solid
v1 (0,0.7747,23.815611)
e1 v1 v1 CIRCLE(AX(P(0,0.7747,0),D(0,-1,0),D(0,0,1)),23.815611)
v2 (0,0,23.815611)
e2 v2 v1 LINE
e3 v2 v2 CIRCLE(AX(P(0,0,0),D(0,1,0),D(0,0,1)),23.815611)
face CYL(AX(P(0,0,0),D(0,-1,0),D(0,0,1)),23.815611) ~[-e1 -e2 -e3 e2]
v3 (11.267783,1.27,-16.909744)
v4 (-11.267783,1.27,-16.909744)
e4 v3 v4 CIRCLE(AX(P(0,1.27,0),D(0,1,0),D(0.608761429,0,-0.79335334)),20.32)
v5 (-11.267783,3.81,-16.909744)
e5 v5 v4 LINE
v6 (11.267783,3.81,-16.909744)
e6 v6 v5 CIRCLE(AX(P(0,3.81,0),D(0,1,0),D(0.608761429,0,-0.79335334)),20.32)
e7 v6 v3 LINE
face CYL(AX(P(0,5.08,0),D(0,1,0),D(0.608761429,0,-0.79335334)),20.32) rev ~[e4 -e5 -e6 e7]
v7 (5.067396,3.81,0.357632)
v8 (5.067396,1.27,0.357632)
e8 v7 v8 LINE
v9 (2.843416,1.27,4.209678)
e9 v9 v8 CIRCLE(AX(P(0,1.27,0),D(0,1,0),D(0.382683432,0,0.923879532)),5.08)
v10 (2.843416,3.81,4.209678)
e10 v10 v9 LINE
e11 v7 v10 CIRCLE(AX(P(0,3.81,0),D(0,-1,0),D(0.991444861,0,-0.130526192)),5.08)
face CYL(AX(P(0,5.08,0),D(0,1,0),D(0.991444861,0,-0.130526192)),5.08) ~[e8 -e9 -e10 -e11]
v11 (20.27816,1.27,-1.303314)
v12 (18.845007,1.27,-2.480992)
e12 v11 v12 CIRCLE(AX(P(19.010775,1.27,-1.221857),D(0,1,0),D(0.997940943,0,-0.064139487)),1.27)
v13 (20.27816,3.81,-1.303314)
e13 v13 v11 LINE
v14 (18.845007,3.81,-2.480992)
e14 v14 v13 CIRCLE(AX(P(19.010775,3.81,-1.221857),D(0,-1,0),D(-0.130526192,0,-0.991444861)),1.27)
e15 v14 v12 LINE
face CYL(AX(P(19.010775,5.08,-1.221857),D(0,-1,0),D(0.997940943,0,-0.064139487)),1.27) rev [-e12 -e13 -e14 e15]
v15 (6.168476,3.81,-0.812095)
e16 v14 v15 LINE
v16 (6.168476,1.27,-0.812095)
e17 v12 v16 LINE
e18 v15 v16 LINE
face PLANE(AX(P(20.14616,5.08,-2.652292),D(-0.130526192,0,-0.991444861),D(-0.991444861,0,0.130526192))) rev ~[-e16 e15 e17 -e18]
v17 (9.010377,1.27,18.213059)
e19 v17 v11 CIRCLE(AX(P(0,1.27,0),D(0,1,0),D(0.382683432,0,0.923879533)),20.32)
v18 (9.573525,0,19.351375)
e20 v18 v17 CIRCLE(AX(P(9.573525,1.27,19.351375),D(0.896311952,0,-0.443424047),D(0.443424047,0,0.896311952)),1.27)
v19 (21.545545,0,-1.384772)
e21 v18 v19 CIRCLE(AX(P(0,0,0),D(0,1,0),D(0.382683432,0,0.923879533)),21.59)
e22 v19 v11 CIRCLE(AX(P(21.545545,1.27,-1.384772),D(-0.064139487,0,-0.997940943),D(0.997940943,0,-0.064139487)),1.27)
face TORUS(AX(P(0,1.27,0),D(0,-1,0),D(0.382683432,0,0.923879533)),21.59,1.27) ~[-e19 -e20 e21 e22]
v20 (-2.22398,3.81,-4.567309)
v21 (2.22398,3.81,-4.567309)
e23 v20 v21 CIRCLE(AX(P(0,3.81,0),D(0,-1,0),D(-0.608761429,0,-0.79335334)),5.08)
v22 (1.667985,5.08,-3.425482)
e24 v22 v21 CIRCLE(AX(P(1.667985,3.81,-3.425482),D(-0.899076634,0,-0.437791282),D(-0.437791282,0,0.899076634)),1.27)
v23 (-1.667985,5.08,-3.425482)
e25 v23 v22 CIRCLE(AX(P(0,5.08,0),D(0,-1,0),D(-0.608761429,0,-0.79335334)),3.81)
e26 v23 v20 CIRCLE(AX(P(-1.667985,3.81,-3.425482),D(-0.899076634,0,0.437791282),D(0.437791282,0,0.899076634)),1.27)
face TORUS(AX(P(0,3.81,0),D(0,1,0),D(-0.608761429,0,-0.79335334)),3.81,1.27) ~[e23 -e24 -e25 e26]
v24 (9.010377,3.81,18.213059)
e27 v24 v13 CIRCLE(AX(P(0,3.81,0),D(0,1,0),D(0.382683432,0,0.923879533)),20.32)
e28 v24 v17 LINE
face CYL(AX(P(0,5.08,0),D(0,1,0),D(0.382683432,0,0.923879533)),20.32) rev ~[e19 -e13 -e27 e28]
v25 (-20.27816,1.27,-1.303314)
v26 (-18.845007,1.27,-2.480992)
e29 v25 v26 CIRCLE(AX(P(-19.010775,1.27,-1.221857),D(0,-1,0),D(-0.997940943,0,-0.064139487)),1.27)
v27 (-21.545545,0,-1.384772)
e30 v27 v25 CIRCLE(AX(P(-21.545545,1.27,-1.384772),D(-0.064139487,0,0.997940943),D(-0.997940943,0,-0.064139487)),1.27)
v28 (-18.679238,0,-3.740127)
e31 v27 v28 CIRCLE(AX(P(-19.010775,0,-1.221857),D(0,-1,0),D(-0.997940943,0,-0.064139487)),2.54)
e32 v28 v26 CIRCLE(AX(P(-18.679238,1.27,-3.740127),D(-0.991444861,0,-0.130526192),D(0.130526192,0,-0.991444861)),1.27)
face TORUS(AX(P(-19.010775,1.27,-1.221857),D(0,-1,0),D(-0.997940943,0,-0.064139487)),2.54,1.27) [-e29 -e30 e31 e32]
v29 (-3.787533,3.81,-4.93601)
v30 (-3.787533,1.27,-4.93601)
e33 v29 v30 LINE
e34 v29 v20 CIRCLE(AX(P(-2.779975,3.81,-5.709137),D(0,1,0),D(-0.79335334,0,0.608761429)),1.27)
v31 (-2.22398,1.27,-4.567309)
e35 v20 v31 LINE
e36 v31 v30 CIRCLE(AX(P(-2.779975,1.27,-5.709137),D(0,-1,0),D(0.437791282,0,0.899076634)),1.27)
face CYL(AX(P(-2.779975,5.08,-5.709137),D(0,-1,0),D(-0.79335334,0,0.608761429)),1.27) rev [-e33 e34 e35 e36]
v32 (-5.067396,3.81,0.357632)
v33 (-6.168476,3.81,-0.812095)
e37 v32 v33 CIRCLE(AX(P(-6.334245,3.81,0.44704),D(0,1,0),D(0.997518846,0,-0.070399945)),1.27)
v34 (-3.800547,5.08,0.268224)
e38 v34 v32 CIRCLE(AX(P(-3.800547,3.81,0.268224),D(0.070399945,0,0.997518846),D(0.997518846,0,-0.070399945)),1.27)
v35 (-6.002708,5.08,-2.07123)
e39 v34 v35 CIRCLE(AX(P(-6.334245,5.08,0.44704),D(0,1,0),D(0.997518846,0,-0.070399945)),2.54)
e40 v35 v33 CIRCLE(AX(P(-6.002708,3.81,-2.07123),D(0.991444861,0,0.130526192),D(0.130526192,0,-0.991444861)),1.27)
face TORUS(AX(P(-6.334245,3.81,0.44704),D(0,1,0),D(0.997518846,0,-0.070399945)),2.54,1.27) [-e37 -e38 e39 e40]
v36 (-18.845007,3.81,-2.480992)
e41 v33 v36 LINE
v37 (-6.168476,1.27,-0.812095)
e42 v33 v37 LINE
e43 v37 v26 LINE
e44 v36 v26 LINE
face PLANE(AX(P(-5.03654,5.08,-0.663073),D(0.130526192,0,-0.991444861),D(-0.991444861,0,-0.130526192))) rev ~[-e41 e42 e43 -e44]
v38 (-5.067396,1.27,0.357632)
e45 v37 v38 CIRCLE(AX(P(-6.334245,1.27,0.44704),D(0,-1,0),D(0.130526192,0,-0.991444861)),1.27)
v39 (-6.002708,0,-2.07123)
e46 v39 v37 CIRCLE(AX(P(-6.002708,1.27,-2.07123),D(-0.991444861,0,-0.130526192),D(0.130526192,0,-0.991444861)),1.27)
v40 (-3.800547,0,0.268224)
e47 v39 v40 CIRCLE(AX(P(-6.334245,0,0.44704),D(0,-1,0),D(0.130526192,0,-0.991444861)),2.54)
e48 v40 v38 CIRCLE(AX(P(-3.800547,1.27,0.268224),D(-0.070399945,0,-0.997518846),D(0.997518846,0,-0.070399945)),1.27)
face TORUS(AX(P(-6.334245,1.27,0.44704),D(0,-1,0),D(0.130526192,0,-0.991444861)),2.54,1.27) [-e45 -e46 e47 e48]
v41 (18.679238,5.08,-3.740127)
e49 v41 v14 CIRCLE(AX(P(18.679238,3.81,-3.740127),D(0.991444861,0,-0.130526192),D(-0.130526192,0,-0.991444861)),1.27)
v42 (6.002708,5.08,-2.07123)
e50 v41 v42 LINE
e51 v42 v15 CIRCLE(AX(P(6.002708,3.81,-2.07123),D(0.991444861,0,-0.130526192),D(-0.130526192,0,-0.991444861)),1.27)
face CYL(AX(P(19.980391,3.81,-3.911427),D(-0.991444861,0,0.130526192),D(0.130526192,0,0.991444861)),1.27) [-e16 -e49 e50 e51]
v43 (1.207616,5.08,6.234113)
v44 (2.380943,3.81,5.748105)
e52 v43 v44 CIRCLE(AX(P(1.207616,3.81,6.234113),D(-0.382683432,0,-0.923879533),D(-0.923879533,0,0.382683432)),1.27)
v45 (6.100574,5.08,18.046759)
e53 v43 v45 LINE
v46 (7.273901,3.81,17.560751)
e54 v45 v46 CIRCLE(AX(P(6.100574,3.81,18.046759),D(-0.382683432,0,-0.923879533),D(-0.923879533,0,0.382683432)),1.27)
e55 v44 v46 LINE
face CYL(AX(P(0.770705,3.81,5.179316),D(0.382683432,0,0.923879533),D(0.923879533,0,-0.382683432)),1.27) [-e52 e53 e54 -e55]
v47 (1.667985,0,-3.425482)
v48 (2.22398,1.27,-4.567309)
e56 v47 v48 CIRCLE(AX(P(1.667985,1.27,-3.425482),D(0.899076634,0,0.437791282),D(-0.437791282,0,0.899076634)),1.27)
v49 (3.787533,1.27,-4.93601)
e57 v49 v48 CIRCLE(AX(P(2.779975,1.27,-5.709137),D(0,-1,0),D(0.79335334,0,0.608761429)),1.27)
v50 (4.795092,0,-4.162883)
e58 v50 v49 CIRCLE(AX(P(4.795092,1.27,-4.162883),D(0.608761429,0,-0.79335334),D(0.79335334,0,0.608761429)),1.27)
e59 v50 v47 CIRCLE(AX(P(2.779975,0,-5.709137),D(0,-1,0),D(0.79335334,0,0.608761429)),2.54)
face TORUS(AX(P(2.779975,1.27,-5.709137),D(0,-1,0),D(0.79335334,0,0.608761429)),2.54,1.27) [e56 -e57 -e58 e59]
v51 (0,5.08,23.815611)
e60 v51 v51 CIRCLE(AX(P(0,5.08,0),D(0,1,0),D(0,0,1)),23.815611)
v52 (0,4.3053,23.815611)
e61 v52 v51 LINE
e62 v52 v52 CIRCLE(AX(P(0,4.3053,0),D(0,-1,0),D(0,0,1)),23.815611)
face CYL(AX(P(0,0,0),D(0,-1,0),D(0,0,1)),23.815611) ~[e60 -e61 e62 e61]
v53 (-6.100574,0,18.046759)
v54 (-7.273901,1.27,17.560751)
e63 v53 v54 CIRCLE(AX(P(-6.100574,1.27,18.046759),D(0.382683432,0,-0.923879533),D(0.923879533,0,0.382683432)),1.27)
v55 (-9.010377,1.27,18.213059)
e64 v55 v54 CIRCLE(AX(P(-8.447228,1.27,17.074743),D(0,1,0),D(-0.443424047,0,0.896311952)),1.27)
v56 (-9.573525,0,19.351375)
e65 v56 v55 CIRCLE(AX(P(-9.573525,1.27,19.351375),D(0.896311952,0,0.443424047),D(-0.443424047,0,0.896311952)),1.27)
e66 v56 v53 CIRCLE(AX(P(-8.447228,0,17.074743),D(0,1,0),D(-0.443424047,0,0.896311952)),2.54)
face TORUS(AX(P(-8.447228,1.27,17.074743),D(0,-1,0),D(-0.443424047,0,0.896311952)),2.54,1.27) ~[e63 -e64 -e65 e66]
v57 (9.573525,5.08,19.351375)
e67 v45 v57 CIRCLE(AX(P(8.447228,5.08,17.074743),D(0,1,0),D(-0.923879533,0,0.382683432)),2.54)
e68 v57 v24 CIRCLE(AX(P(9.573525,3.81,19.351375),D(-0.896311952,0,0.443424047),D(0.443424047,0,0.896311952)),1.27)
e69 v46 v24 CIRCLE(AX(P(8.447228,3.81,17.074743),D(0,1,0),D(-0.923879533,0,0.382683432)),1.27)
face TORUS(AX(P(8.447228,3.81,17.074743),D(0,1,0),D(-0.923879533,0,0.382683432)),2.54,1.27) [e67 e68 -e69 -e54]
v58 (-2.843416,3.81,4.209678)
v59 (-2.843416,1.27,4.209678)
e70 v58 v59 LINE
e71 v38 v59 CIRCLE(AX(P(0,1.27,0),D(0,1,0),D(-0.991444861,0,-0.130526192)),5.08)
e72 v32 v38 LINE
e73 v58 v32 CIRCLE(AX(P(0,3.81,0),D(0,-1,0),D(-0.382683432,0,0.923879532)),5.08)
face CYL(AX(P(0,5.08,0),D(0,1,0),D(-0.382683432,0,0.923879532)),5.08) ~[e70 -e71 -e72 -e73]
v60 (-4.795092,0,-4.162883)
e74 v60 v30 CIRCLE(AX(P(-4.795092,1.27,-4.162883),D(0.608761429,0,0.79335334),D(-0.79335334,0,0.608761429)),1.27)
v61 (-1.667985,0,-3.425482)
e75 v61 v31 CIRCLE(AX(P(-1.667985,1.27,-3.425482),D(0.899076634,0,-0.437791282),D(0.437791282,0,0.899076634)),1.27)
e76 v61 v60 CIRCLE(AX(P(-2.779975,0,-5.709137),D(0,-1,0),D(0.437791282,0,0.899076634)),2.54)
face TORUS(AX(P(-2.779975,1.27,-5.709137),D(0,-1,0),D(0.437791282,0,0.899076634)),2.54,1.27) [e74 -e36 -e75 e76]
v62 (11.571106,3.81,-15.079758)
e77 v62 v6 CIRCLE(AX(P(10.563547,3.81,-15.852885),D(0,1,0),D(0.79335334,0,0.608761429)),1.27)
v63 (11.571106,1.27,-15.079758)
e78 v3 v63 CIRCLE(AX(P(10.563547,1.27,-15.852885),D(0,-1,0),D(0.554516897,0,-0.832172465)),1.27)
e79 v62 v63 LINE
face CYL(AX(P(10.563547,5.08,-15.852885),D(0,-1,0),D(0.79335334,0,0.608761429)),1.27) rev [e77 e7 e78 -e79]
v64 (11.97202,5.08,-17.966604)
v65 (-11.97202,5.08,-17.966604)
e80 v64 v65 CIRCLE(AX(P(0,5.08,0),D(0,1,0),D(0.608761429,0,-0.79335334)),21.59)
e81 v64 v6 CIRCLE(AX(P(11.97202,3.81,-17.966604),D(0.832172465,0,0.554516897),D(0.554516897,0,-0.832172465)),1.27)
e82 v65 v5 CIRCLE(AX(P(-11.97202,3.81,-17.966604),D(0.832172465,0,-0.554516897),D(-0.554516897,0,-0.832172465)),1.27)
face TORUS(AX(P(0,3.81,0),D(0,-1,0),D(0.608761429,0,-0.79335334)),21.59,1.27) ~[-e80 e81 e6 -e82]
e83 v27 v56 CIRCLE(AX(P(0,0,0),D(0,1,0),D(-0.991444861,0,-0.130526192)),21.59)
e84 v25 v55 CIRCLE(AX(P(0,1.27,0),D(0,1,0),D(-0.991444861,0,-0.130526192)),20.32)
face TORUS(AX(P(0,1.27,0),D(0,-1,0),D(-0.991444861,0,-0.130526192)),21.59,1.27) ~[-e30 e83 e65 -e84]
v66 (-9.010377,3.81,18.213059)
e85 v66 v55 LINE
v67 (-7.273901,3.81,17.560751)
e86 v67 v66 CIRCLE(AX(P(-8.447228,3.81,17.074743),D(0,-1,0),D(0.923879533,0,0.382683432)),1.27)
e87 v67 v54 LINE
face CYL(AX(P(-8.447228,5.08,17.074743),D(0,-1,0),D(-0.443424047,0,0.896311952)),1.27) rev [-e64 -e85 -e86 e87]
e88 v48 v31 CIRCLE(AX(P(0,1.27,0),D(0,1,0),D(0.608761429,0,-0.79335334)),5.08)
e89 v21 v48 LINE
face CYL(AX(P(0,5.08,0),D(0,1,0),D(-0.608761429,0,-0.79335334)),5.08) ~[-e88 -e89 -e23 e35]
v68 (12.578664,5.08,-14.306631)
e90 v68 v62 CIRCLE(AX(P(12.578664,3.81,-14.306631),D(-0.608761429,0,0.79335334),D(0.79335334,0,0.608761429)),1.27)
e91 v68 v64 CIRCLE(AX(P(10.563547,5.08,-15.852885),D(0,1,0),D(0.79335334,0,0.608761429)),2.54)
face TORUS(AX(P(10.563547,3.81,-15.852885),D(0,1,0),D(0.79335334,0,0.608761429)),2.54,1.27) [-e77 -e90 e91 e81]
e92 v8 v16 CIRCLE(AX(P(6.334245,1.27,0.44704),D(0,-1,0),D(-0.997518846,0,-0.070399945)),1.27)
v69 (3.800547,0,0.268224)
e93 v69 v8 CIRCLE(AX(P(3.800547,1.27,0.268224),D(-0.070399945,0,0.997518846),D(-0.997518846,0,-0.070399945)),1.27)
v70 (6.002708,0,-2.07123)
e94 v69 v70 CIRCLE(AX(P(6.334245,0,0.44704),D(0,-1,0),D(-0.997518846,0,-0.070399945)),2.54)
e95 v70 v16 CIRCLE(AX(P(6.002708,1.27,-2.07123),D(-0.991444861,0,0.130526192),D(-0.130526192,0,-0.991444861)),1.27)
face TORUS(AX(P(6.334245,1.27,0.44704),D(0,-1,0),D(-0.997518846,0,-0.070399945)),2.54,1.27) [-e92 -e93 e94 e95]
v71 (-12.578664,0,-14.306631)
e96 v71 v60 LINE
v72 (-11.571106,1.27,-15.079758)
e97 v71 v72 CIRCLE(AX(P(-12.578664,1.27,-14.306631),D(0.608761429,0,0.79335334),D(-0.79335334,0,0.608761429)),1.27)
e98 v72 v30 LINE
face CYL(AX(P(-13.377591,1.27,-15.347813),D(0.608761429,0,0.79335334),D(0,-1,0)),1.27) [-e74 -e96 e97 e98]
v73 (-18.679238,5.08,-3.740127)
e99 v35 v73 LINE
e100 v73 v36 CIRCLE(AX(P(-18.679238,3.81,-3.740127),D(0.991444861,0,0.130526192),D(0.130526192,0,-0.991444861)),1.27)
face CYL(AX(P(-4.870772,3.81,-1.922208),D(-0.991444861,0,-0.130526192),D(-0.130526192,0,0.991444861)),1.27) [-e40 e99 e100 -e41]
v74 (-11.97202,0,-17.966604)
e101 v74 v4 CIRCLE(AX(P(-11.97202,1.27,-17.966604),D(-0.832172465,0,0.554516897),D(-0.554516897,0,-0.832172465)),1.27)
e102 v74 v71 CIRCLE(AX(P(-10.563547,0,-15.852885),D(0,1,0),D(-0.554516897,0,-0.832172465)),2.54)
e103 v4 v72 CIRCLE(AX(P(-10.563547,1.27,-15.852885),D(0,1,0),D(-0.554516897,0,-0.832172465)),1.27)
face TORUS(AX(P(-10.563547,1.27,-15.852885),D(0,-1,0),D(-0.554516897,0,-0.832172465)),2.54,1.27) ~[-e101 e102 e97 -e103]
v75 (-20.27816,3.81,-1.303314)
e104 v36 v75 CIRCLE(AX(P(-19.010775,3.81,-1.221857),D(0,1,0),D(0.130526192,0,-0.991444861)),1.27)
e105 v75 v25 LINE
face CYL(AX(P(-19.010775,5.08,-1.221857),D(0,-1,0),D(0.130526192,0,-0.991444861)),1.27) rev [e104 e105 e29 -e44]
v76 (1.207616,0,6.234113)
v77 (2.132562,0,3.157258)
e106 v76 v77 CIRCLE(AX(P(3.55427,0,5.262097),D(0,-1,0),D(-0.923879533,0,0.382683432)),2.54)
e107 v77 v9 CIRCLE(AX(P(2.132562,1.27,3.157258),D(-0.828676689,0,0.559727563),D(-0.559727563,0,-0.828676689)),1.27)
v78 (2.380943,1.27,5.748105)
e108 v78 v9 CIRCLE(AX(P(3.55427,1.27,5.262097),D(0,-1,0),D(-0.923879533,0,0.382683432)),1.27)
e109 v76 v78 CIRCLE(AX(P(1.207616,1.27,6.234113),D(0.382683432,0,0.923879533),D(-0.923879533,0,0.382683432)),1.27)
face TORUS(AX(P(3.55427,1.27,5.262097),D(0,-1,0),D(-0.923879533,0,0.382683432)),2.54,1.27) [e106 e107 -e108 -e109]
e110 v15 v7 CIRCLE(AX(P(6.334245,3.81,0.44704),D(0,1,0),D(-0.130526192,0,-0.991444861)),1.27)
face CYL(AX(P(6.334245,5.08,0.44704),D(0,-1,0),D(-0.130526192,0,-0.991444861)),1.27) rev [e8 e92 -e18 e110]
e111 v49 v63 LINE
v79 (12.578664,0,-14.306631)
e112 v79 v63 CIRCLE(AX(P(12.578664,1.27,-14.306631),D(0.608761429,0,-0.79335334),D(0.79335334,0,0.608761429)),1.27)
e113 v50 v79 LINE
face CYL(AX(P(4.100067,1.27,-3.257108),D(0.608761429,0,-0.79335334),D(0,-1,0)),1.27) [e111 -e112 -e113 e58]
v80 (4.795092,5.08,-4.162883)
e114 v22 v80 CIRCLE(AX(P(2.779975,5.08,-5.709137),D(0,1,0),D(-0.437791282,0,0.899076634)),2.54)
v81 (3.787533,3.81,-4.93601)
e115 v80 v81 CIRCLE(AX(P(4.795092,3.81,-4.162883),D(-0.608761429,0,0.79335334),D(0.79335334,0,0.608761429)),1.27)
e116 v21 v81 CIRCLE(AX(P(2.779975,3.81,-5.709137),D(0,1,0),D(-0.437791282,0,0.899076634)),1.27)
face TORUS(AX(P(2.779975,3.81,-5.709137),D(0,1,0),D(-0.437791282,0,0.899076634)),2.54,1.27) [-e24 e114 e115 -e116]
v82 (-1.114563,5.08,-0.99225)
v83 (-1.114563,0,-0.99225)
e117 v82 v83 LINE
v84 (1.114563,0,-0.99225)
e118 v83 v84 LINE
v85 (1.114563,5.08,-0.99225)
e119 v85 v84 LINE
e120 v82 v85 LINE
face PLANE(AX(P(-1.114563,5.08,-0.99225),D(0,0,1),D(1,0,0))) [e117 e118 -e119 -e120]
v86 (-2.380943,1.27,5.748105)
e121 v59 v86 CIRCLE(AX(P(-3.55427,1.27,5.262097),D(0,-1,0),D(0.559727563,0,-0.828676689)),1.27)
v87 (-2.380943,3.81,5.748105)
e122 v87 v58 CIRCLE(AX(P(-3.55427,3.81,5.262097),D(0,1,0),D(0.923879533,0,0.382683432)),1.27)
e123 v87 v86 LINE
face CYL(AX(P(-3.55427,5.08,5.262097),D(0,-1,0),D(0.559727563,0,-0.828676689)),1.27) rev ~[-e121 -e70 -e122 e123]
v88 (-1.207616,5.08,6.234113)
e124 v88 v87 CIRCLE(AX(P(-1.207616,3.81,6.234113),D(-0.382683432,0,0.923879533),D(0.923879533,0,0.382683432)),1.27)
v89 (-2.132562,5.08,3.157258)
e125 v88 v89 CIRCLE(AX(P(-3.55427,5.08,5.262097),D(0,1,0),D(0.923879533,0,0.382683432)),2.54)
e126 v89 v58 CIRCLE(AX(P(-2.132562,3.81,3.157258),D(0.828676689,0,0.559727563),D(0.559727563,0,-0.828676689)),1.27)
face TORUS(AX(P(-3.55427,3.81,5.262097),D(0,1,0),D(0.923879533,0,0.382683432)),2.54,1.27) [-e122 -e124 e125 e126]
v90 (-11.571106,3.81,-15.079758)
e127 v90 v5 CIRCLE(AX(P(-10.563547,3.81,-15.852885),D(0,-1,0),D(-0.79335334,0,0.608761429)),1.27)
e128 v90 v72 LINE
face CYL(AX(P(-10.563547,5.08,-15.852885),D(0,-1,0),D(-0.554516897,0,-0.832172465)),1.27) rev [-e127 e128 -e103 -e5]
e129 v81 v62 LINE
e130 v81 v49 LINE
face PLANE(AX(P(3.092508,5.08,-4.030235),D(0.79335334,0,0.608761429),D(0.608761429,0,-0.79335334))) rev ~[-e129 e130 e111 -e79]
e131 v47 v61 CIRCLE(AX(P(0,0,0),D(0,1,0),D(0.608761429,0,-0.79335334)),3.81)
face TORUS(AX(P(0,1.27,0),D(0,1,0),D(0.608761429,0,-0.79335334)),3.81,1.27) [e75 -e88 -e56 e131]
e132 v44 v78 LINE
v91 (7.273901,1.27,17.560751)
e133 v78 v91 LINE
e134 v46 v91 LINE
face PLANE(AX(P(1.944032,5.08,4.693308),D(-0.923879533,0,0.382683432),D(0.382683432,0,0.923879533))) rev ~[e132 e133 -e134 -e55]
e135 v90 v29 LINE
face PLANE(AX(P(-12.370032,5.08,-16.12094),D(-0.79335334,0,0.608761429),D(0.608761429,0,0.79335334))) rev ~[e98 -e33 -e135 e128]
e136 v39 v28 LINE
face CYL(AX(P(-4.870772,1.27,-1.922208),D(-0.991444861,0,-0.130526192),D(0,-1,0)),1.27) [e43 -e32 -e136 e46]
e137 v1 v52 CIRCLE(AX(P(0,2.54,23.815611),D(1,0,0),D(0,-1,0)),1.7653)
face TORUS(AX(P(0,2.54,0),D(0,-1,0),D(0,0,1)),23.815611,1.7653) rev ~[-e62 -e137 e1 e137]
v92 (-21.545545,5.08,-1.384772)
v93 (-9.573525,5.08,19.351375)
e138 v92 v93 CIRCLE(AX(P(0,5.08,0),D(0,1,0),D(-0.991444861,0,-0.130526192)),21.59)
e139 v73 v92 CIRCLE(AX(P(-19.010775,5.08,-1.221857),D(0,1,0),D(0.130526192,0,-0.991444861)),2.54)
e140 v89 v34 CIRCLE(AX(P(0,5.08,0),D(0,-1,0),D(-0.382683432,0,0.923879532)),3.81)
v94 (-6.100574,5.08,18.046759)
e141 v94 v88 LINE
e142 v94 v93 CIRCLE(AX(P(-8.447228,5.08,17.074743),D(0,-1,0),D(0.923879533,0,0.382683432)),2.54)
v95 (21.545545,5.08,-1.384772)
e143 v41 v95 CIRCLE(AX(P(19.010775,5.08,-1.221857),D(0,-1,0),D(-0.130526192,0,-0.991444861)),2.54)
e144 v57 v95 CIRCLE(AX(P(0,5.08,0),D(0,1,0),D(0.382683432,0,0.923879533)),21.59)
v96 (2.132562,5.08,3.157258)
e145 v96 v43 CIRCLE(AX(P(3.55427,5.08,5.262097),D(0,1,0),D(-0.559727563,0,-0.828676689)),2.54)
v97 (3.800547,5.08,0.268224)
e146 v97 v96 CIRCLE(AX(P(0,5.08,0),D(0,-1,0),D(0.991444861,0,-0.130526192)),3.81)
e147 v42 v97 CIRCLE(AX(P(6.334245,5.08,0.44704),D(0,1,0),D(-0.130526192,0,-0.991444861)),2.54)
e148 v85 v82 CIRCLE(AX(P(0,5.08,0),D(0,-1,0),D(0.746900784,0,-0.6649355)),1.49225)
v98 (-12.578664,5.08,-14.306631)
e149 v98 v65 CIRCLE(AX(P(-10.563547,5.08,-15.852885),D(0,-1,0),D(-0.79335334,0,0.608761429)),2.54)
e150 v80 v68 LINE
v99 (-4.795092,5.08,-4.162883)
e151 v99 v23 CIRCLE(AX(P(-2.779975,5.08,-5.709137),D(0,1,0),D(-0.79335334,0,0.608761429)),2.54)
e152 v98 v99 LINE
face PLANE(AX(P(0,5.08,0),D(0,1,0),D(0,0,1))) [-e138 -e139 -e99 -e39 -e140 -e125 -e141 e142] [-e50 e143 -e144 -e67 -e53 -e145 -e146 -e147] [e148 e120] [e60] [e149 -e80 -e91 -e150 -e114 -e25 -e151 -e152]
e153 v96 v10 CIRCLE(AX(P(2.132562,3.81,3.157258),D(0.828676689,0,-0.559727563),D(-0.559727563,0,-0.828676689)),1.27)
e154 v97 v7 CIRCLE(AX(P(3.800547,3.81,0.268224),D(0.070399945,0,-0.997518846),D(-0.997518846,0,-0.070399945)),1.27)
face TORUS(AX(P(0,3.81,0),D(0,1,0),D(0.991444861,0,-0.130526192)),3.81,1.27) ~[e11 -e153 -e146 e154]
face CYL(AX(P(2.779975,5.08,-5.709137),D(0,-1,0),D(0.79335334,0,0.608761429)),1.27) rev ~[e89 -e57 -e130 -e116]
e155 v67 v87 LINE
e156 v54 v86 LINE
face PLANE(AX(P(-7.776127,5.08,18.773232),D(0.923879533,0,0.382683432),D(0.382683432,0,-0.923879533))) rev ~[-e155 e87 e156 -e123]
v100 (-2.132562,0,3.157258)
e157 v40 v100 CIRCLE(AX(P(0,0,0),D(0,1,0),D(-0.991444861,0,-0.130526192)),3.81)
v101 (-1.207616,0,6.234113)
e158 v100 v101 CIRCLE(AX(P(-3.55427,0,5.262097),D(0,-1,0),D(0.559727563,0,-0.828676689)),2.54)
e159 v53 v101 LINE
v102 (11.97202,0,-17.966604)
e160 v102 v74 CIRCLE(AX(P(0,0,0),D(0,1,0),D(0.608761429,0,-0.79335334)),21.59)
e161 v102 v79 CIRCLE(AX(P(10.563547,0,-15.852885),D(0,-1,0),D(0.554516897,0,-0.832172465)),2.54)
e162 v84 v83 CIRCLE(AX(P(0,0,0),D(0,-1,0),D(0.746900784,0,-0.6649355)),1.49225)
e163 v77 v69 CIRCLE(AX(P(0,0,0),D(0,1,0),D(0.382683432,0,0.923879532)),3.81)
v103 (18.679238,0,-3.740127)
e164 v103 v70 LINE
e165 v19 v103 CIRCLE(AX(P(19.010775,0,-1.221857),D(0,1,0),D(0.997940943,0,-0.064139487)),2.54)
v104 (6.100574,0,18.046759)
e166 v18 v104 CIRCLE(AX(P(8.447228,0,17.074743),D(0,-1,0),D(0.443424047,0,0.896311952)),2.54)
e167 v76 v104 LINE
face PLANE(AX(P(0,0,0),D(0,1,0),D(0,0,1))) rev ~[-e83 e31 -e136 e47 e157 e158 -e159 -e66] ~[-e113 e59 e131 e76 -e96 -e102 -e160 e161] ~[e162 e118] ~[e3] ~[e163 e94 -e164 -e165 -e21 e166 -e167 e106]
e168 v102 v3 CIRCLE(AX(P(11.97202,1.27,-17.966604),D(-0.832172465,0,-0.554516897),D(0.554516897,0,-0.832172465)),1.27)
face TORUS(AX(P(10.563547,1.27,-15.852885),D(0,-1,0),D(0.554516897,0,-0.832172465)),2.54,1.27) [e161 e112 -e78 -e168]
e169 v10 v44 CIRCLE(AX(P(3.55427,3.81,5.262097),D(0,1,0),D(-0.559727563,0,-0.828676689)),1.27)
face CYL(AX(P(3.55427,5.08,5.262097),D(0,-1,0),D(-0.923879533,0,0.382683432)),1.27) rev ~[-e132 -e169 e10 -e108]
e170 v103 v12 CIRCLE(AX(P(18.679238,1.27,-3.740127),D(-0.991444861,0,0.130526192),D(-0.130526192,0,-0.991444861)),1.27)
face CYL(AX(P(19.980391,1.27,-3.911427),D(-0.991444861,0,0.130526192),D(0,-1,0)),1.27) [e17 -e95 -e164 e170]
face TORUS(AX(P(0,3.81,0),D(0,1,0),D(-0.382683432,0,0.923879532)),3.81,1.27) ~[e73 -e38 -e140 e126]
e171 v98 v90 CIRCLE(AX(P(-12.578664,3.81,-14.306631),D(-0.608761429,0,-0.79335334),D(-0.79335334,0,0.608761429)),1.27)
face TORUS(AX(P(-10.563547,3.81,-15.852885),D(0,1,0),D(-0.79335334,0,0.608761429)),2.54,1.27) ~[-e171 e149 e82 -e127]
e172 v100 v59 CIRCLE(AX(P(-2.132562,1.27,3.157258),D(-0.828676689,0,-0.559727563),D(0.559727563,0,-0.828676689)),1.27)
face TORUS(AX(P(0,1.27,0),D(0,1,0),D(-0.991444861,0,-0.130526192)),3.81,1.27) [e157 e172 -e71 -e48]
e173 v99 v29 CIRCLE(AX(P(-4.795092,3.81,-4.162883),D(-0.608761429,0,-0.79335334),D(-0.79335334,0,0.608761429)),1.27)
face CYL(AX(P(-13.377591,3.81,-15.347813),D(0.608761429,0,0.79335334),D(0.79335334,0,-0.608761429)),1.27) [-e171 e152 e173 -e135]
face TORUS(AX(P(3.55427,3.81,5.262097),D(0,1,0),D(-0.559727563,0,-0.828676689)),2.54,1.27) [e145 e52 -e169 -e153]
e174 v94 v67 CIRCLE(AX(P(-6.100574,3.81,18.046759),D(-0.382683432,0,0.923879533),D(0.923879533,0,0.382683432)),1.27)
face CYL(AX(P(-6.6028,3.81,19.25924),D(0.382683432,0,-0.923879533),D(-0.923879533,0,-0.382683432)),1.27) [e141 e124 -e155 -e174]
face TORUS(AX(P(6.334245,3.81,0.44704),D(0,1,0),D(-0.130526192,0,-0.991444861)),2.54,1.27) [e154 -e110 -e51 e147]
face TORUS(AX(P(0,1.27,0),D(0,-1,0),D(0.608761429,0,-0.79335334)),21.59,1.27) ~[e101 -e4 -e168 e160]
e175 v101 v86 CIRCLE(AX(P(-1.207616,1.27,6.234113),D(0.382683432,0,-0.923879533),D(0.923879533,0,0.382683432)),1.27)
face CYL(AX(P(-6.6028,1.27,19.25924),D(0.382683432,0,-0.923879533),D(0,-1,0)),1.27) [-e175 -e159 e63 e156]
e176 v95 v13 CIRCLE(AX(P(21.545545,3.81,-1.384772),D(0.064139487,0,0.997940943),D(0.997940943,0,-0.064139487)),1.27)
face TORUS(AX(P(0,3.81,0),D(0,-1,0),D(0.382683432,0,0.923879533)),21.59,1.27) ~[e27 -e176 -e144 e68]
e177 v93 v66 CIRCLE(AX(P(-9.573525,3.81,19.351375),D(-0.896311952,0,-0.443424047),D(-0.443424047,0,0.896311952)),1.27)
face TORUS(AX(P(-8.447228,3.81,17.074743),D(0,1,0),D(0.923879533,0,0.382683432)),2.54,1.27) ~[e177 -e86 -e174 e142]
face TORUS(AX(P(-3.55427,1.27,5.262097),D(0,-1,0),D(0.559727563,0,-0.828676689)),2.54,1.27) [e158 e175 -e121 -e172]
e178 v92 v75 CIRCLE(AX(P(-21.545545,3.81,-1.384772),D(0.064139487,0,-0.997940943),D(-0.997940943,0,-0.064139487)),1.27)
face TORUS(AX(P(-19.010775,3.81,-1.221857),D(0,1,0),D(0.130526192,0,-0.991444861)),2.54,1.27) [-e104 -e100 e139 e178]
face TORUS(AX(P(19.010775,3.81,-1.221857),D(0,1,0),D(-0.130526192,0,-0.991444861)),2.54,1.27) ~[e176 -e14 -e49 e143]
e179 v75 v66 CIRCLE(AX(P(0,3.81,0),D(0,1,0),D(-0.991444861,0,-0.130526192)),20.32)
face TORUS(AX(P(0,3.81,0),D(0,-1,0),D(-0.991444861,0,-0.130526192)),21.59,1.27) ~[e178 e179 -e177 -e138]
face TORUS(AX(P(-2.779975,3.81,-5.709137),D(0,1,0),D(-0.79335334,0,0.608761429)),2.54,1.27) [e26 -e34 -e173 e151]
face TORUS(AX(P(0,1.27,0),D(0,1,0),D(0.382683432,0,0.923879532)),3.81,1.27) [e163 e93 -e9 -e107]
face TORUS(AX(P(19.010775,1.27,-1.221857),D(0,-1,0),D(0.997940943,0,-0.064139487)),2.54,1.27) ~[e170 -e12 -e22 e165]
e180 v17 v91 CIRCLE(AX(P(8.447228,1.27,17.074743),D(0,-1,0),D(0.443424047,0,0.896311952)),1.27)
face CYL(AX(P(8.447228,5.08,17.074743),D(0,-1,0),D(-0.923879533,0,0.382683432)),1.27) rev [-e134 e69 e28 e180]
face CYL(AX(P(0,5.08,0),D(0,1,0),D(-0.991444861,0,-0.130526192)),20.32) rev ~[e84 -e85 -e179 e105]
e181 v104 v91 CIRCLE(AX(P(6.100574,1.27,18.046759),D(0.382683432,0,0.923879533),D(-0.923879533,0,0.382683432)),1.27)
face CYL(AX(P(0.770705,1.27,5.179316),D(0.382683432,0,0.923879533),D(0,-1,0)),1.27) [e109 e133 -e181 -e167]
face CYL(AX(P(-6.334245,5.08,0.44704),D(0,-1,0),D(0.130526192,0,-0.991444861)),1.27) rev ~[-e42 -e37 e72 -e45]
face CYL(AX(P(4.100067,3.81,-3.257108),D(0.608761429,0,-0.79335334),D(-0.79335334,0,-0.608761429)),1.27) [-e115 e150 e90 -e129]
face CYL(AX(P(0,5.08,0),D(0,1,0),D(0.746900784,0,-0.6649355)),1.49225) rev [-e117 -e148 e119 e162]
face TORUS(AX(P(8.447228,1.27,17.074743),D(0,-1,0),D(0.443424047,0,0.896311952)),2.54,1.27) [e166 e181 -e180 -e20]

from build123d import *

# Parameters (mm, degrees)
SKETCH1_R                 = 23.815610662
BOSS_EXTRUDE1_DEPTH       = 5.08
CUT_EXTRUDE1_DEPTH        = 5.08
CUT_EXTRUDE3_DEPTH        = 35.061312694
FILLET22_R                = 1.27
CIRPATTERN1_COUNT         = 3
FILLET22_OF_CIRPATTERN1_R = 1.27


with BuildPart() as part:
    # Sketch1 → Boss-Extrude1 (new body)
    with BuildSketch(Plane(origin=(0, 0, 0), x_dir=(1, 0, 0), z_dir=(0, 1, 0))):
        with Locations(Location((0, 0, 0), (0, 0, 270))):
            Circle(SKETCH1_R)
    extrude(amount=BOSS_EXTRUDE1_DEPTH)

    # Sketch2 → Cut-Extrude1 (cut)
    with BuildSketch(Plane(origin=(0, 5.08, 0), x_dir=(1, 0, 0), z_dir=(0, 1, 0))):
        with BuildLine():
            Line((-1.114562695, 0.99225), (1.114562695, 0.99225))
            ThreePointArc((1.114562695, 0.99225), (0, -1.49225), (-1.114562695, 0.99225))
        make_face()
    extrude(amount=-CUT_EXTRUDE1_DEPTH, mode=Mode.SUBTRACT)

    # Sketch5 → Cut-Revolve2 (revolve, cut)
    with BuildSketch(Plane.XY, mode=Mode.PRIVATE) as cut_revolve2_sk:
        with BuildLine():
            Line((-23.815610662, 4.3053), (-23.815610662, 0.7747))
            ThreePointArc((-23.815610662, 0.7747), (-22.050310662, 2.54), (-23.815610662, 4.3053))
        make_face()
    revolve(cut_revolve2_sk.sketch.rotate(Axis((0, 4.3287014, 0), (0, -1, 0)), 270), axis=Axis((0, 4.3287014, 0), (0, -1, 0)), mode=Mode.SUBTRACT)

    # Sketch8 → Cut-Extrude3 (cut, through all)
    with BuildSketch(Plane(origin=(0, 5.08, 0), x_dir=(1, 0, 0), z_dir=(0, 1, 0))):
        with BuildLine():
            Line((3.092508059, 4.030234969), (12.370032237, 16.120939875))
            ThreePointArc((12.370032237, 16.120939875), (0, 20.32), (-12.370032237, 16.120939875))
            Line((-12.370032237, 16.120939875), (-3.092508059, 4.030234969))
            ThreePointArc((-3.092508059, 4.030234969), (0, 5.08), (3.092508059, 4.030234969))
        make_face()
    cut_extrude3 = extrude(amount=-CUT_EXTRUDE3_DEPTH, mode=Mode.SUBTRACT)

    # Fillet22
    fillet22_edges = [part.edges().sort_by_distance(p)[0] for p in [
        (-7.731270148, 0, -10.075587422),
        (-3.092508059, 2.54, -4.030234969),
        (0, 5.08, -20.32),
        (-12.370032237, 2.54, -16.120939875),
        (7.731270148, 0, -10.075587422),
        (12.370032237, 2.54, -16.120939875),
        (0, 0, -5.08),
        (3.092508059, 2.54, -4.030234969),
        (0, 0, -20.32),
        (-7.731270148, 5.08, -10.075587422),
        (0, 5.08, -5.08),
        (7.731270148, 5.08, -10.075587422),
    ]]
    fillet(fillet22_edges, radius=FILLET22_R)

    # CirPattern1: Cut-Extrude3 ×3 about axis
    cirpattern1_axis = Axis((0, 5.08, 0), (0, 1, 0))
    for i in range(1, CIRPATTERN1_COUNT):
        add(cut_extrude3.rotate(cirpattern1_axis, i * 360 / CIRPATTERN1_COUNT), mode=Mode.SUBTRACT)

    # Fillet22 of CirPattern1
    fillet22_of_cirpattern1_edges = [part.edges().sort_by_distance(p)[0] for p in [
        (-4.860079591, 0, 11.733270063),
        (-1.944031836, 2.54, 4.693308025),
        (-17.597636205, 5.08, 10.16),
        (-7.776127346, 2.54, 18.773232101),
        (-12.591349739, 0, -1.657682641),
        (-20.146159583, 2.54, -2.652292226),
        (-4.399409051, 0, 2.54),
        (-5.036539896, 2.54, -0.663073056),
        (-17.597636205, 0, 10.16),
        (-4.860079591, 5.08, 11.733270063),
        (-4.399409051, 5.08, 2.54),
        (-12.591349739, 5.08, -1.657682641),
        (12.591349739, 0, -1.657682641),
        (5.036539896, 2.54, -0.663073056),
        (17.597636205, 5.08, 10.16),
        (20.146159583, 2.54, -2.652292226),
        (4.860079591, 0, 11.733270063),
        (7.776127346, 2.54, 18.773232101),
        (4.399409051, 0, 2.54),
        (1.944031836, 2.54, 4.693308025),
        (17.597636205, 0, 10.16),
        (12.591349739, 5.08, -1.657682641),
        (4.399409051, 5.08, 2.54),
        (4.860079591, 5.08, 11.733270063),
    ]]
    fillet(fillet22_of_cirpattern1_edges, radius=FILLET22_OF_CIRPATTERN1_R)


solid = part.part
